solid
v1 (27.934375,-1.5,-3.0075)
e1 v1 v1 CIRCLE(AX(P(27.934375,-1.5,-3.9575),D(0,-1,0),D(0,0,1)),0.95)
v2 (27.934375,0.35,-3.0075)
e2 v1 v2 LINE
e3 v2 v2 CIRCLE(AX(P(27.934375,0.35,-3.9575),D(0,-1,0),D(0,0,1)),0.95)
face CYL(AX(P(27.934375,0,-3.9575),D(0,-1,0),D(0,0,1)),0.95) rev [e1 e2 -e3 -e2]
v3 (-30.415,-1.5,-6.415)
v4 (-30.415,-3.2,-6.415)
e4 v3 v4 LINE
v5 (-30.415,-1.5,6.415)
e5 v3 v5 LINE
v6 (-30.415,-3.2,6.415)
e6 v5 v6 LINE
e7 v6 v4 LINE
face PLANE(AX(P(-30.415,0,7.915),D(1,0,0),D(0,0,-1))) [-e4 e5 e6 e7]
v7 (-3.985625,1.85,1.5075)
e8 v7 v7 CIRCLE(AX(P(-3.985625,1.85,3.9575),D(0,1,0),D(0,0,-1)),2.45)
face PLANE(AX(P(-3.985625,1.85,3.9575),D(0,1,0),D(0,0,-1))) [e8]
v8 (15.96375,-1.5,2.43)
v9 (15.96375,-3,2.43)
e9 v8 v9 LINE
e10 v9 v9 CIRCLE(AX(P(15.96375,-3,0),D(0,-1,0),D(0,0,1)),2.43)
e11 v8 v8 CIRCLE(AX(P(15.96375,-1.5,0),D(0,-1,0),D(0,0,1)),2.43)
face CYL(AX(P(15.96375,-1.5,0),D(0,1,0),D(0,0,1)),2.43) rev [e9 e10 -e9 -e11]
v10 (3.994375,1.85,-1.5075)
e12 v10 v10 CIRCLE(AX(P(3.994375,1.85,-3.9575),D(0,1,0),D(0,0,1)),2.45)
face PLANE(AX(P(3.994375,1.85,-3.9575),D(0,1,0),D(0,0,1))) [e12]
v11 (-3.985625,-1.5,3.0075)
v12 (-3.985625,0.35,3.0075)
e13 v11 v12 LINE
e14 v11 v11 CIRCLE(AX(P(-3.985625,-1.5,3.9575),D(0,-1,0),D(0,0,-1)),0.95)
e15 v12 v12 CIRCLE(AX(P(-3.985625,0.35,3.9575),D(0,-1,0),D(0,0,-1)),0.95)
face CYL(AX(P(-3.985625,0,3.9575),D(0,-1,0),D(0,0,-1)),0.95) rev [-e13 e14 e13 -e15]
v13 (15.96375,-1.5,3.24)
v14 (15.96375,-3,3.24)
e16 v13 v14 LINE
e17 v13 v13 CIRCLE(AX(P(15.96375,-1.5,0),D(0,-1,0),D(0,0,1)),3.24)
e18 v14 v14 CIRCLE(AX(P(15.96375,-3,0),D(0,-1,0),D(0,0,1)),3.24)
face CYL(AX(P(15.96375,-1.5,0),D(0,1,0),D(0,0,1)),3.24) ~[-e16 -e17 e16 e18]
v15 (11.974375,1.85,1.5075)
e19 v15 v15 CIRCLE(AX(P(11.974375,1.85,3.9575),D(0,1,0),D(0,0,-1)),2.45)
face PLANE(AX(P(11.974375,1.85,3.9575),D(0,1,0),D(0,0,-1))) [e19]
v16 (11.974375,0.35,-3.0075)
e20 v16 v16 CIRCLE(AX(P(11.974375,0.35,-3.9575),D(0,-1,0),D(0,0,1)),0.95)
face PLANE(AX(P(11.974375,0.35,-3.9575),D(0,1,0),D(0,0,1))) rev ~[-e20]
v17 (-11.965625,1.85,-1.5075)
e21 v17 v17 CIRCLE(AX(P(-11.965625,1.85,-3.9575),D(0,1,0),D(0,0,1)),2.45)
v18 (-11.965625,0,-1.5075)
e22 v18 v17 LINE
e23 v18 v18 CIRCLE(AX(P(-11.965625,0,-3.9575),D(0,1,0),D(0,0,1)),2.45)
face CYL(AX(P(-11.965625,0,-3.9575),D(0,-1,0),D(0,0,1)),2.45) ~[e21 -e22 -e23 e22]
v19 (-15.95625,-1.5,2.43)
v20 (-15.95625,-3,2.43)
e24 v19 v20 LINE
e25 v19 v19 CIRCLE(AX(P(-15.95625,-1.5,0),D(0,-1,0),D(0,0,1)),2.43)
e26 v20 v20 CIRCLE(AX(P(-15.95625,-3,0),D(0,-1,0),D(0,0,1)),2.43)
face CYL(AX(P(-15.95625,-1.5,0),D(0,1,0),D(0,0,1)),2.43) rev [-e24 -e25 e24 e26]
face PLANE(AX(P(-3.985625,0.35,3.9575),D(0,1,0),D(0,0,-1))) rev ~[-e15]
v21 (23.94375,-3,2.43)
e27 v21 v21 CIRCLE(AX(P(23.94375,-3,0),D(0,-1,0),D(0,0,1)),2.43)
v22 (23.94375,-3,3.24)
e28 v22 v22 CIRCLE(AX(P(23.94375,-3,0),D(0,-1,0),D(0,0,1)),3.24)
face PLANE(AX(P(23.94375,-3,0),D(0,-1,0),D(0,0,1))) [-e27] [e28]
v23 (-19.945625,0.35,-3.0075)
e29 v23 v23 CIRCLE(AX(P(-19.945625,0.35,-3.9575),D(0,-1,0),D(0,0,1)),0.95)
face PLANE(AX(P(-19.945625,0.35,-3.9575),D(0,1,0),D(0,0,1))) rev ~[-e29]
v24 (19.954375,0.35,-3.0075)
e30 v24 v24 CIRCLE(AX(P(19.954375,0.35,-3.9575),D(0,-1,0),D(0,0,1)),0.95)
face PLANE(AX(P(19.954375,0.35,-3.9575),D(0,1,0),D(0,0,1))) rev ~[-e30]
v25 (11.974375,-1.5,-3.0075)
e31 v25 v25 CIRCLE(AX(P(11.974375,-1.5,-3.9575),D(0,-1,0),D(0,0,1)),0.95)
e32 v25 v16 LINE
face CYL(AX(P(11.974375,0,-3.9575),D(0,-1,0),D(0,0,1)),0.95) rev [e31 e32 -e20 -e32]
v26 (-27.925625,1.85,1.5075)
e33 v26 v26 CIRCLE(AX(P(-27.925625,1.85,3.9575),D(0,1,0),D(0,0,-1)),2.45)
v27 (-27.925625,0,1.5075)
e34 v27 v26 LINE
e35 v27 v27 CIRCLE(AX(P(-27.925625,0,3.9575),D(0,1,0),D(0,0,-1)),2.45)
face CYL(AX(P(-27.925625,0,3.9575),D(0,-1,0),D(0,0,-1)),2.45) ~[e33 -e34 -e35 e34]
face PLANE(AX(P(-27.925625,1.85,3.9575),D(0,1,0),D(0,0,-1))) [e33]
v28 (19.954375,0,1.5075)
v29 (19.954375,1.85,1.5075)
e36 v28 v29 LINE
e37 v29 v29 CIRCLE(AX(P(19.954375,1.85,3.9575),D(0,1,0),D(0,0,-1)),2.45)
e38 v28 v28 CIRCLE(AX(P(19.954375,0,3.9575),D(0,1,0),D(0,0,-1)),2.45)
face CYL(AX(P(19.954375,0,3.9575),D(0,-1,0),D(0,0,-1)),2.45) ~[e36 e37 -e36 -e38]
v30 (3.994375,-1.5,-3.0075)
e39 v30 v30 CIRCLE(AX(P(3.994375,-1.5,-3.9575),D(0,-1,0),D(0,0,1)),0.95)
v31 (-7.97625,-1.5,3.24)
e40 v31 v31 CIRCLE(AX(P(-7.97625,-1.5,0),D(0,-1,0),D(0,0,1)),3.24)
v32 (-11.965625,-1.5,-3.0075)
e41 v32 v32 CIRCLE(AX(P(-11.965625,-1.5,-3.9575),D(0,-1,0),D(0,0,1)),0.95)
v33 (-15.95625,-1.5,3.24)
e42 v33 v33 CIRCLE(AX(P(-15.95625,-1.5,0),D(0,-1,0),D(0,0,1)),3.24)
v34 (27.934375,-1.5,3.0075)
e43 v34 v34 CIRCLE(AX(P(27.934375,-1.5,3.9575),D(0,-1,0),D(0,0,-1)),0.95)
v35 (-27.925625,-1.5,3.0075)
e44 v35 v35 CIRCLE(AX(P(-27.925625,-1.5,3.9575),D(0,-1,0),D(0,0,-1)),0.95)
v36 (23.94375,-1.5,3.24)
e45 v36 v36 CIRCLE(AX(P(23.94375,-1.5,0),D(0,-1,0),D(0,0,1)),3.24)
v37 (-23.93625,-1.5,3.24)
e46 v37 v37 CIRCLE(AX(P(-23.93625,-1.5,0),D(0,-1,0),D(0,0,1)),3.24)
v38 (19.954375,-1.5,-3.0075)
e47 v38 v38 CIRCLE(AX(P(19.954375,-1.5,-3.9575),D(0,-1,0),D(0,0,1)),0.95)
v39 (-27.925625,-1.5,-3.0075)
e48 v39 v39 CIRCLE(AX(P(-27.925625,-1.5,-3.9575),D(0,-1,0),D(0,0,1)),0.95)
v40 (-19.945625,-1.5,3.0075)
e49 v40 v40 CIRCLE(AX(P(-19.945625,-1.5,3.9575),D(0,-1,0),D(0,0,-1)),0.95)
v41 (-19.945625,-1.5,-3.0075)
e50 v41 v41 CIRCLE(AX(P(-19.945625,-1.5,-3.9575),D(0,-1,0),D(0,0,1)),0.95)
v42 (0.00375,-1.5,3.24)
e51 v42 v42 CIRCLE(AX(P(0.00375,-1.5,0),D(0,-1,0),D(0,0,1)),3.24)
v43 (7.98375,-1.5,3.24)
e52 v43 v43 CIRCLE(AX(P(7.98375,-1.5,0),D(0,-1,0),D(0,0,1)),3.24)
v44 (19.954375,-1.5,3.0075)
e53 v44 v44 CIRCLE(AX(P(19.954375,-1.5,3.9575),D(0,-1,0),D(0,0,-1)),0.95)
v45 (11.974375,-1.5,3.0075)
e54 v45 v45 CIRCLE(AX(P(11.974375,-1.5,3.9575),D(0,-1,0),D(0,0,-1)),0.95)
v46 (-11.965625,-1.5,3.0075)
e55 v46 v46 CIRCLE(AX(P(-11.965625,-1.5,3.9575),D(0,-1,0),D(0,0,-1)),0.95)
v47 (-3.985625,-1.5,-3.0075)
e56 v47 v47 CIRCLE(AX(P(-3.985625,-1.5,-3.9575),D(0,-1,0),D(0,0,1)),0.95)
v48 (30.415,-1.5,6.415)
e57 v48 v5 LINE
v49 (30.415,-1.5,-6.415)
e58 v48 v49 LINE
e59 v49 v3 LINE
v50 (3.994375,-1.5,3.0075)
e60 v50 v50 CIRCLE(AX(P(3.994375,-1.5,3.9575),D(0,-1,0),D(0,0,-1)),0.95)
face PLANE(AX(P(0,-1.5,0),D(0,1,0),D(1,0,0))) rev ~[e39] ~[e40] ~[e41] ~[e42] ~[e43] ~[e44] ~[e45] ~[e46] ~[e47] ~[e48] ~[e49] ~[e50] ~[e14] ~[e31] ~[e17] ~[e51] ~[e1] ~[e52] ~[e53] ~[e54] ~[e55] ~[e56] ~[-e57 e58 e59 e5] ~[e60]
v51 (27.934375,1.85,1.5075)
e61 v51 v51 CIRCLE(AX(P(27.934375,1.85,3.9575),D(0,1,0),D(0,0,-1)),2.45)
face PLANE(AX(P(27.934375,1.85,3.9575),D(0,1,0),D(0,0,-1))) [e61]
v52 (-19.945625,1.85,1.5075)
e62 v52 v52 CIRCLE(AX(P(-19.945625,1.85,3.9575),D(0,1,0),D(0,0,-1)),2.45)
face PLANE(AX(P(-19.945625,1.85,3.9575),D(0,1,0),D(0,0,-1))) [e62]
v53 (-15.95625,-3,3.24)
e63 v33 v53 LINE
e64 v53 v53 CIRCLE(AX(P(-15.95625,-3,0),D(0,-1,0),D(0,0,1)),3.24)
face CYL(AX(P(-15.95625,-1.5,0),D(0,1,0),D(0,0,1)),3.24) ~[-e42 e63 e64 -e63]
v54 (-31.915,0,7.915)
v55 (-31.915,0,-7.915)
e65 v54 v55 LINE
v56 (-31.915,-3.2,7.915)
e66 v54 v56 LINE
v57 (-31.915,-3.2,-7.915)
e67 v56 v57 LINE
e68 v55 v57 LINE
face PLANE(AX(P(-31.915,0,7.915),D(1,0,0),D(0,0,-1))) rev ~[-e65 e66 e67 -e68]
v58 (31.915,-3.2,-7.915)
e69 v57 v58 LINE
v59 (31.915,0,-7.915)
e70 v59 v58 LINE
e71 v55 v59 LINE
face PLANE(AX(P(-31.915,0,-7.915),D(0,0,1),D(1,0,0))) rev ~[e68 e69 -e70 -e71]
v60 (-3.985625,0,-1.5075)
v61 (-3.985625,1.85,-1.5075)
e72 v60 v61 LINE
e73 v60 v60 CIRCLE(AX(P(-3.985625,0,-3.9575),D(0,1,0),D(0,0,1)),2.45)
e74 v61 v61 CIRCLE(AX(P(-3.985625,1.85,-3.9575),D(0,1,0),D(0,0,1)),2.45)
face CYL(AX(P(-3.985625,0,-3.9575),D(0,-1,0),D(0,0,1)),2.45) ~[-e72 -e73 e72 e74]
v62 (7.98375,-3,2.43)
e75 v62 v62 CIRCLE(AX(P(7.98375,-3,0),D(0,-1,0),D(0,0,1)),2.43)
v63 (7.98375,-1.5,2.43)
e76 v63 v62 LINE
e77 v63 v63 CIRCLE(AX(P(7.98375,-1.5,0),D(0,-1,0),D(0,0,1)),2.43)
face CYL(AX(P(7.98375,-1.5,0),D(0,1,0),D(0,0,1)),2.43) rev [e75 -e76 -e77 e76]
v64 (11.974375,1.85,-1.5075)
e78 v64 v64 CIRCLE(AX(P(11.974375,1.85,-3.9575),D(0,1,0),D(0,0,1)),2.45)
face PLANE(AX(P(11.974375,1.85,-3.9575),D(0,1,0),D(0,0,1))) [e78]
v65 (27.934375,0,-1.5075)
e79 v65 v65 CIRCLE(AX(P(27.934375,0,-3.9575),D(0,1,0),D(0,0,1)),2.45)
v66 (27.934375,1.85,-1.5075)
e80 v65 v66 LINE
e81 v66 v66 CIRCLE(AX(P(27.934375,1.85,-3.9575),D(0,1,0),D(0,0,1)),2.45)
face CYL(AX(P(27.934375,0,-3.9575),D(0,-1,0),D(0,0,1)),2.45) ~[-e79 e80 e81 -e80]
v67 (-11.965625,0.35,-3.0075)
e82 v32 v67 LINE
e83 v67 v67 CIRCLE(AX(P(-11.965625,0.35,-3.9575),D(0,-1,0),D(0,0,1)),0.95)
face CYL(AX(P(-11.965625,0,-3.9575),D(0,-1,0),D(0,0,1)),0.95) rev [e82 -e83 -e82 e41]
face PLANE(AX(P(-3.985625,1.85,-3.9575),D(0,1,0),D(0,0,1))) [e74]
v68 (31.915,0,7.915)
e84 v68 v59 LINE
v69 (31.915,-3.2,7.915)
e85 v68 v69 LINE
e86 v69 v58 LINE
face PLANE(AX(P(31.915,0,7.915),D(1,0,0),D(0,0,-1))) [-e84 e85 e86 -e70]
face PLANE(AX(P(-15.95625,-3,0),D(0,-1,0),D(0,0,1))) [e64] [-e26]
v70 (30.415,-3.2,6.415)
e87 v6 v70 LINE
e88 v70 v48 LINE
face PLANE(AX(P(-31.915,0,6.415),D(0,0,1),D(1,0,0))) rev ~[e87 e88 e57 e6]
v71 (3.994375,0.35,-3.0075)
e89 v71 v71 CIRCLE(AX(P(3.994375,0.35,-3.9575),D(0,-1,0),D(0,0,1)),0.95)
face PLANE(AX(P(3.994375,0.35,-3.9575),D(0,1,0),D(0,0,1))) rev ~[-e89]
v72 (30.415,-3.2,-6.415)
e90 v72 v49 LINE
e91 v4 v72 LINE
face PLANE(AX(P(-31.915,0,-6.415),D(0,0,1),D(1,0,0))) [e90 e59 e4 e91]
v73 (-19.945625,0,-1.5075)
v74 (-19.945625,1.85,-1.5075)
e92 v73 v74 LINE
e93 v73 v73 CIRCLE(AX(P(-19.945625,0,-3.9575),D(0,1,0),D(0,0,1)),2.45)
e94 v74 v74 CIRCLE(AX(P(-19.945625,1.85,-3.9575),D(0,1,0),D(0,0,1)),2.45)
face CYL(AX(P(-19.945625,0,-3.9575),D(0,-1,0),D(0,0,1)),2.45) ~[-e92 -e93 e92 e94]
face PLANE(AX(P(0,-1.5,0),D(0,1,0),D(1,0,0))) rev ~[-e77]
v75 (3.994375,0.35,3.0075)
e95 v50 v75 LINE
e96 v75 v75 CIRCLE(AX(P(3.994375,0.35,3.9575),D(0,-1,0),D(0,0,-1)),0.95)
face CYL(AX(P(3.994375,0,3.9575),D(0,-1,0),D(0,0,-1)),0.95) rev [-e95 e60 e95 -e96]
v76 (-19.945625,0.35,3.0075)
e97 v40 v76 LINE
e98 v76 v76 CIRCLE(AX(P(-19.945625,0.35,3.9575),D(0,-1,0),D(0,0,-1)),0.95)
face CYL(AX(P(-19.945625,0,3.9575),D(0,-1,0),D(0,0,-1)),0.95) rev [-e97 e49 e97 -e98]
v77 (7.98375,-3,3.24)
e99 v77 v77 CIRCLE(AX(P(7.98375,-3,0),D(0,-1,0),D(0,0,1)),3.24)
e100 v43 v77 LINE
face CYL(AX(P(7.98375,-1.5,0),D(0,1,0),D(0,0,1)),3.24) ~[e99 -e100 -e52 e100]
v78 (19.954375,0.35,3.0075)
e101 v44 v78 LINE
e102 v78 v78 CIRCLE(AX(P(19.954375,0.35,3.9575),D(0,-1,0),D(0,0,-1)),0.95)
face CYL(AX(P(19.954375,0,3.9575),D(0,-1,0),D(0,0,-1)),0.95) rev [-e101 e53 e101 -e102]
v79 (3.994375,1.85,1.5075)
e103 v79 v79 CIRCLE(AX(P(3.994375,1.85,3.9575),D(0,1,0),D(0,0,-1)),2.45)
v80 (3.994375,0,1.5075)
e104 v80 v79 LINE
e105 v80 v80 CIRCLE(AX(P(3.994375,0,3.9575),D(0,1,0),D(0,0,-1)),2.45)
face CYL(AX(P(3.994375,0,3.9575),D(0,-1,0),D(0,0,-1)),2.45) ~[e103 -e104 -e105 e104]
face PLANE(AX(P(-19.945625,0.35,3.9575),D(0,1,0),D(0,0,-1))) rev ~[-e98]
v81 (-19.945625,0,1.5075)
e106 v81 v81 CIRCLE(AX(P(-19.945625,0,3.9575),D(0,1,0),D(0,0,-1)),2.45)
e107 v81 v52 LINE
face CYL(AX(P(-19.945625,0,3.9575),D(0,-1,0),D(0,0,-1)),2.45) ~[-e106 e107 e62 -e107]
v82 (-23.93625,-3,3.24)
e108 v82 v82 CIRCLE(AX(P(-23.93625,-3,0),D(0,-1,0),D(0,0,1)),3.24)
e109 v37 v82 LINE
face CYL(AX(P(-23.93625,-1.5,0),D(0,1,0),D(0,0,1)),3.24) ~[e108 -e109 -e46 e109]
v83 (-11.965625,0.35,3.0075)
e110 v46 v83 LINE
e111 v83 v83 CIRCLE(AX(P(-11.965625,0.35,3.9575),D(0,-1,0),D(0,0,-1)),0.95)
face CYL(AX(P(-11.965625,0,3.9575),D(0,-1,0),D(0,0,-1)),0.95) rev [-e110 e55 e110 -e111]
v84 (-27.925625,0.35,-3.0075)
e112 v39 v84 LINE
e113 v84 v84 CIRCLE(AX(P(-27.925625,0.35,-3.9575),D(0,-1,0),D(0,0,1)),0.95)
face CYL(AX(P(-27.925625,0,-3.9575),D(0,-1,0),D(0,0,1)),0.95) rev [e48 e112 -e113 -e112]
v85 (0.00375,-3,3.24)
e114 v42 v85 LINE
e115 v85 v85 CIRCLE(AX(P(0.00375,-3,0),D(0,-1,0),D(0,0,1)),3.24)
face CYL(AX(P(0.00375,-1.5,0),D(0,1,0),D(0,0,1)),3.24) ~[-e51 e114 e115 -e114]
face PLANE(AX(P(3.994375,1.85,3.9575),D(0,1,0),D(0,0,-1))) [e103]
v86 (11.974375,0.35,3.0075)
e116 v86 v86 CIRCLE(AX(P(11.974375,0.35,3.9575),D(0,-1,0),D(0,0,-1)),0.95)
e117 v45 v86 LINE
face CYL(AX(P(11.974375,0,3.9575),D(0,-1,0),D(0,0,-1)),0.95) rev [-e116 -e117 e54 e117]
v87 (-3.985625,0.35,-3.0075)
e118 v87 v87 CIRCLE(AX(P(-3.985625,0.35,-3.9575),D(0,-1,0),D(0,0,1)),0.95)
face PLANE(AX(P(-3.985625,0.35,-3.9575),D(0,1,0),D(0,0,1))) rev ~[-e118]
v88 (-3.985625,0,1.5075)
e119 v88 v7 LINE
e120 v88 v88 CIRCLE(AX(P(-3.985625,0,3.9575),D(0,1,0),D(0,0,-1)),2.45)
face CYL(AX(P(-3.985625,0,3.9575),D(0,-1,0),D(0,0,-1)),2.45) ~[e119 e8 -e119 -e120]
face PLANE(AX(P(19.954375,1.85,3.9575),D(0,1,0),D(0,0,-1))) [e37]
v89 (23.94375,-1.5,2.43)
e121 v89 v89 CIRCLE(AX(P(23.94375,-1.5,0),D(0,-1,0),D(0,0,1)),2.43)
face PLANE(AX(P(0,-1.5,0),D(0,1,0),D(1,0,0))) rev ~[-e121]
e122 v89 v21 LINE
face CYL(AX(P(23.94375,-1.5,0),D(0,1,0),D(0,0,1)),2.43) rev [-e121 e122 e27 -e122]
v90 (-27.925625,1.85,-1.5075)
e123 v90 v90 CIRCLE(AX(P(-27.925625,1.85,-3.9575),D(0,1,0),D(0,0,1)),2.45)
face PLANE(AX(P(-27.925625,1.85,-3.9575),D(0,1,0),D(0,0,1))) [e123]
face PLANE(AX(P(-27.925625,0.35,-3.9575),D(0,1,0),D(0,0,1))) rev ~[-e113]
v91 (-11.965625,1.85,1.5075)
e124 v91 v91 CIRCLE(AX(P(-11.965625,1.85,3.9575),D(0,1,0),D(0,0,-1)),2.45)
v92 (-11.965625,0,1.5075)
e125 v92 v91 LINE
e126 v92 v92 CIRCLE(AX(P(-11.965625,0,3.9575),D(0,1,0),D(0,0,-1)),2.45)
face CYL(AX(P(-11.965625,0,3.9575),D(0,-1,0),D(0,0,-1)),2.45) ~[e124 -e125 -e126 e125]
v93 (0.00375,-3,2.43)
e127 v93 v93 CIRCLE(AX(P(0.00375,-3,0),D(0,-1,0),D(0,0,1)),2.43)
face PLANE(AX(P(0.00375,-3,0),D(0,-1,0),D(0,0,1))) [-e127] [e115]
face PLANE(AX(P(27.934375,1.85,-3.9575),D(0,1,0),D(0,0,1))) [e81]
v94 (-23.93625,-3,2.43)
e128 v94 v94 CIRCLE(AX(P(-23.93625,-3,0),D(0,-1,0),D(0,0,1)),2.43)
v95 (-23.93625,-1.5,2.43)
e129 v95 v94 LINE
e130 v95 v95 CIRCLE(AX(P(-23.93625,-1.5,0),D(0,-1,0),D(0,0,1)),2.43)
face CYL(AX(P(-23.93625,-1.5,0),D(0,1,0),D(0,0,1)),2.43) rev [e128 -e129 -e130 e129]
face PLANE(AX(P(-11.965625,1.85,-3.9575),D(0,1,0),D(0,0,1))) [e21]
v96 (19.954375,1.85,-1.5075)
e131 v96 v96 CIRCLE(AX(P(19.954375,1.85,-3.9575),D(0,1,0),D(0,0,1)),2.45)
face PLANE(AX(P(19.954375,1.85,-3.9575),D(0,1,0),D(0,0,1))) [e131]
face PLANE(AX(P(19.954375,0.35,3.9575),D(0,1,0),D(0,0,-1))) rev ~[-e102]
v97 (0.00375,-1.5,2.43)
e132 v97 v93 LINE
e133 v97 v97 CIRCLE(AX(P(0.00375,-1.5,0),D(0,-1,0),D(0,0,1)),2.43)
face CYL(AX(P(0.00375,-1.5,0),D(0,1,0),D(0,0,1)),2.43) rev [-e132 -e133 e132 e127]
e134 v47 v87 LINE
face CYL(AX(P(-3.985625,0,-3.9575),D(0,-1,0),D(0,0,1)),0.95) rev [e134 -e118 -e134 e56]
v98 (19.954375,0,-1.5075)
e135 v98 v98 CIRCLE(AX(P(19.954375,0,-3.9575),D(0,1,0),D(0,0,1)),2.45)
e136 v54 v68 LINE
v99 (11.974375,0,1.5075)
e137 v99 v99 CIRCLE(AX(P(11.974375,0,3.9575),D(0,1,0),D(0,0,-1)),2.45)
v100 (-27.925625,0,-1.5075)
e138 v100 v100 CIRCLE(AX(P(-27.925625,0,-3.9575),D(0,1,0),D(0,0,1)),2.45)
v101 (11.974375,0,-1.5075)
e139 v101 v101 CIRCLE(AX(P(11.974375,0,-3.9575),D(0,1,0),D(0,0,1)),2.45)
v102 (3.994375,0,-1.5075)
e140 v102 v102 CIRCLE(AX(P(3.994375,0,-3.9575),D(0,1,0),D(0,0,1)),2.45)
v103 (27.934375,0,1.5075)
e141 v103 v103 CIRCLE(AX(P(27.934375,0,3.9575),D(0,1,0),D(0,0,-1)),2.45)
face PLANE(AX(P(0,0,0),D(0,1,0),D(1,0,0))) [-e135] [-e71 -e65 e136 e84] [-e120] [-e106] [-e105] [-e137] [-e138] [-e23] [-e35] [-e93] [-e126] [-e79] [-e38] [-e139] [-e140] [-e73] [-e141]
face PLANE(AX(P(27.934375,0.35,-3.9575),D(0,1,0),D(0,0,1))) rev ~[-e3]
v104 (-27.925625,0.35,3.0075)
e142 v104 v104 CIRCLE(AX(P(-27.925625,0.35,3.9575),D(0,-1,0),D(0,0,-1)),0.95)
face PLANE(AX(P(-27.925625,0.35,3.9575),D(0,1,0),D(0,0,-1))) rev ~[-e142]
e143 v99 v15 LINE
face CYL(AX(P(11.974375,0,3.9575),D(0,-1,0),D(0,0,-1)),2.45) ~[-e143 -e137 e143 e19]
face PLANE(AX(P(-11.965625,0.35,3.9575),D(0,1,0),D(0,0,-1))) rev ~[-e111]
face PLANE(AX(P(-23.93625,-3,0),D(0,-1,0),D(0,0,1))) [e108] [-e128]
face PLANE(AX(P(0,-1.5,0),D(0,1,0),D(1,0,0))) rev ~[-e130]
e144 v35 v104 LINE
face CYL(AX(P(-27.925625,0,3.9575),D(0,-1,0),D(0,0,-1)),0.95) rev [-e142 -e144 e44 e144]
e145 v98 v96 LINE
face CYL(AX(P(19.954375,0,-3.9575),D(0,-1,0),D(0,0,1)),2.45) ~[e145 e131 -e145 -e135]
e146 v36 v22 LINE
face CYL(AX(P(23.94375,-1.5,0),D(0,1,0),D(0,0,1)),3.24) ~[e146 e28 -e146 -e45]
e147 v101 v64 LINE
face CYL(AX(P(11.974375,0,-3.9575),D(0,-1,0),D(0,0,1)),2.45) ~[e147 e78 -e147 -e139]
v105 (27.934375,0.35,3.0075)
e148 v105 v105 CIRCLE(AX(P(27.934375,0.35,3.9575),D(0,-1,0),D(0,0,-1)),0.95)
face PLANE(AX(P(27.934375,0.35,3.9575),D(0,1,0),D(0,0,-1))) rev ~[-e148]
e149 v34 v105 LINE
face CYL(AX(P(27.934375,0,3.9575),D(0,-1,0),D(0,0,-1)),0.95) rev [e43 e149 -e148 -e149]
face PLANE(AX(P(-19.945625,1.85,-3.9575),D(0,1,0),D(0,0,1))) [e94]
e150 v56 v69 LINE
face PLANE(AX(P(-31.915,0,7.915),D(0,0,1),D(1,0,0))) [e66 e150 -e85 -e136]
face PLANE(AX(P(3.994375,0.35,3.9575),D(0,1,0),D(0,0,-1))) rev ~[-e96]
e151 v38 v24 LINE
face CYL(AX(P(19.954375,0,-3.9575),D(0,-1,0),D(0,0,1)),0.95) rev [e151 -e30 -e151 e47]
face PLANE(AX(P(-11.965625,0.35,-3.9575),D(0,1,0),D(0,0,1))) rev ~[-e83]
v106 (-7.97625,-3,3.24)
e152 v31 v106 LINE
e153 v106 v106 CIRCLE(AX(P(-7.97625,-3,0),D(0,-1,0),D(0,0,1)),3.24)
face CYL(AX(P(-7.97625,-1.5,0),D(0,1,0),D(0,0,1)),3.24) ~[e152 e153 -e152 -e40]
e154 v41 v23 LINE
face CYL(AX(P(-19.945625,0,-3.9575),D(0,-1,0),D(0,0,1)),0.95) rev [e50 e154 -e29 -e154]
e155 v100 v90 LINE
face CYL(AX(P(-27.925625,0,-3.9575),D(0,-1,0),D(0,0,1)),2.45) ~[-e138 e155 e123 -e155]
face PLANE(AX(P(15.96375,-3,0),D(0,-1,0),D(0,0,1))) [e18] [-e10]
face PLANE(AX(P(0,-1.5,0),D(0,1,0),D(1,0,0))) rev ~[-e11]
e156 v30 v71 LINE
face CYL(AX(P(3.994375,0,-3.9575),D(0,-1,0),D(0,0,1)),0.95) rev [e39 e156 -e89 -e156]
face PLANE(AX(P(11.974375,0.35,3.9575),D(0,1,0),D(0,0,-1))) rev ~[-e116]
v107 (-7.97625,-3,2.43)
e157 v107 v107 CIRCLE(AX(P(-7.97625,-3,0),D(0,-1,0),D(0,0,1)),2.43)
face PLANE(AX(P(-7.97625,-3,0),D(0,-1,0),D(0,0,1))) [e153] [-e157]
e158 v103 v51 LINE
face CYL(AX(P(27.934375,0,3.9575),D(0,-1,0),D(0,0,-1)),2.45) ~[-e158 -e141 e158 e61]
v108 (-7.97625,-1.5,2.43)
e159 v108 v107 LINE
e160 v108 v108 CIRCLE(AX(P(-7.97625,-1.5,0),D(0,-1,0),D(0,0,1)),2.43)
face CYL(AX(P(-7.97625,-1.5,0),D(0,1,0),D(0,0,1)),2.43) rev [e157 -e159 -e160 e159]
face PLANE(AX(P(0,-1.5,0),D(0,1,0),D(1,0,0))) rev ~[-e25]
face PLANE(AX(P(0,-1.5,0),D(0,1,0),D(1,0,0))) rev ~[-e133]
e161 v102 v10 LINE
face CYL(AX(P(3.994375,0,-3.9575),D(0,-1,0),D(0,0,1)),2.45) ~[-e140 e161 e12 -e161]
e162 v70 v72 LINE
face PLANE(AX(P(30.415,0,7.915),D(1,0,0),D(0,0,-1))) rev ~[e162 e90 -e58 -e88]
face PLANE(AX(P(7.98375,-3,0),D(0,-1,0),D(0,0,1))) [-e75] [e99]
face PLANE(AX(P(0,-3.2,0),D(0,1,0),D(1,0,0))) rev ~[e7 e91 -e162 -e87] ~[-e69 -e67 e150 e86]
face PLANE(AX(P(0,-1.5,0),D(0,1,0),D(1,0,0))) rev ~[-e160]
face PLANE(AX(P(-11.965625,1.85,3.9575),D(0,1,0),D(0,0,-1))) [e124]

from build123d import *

# Parameters (mm, degrees)
SKETCH1_W           = 63.83
SKETCH1_H           = 15.83
BOSS_EXTRUDE1_DEPTH = 3.2
SKETCH2_R           = 2.45
BOSS_EXTRUDE2_DEPTH = 1.85
SHELL1_T            = -1.5
SKETCH3_R           = 3.24
SKETCH3_R_2         = 2.43
BOSS_EXTRUDE3_DEPTH = 1.5


with BuildPart() as part:
    # Sketch1 → Boss-Extrude1 (new body)
    with BuildSketch(Plane(origin=(0, 0, 0), x_dir=(1, 0, 0), z_dir=(0, 1, 0))):
        Rectangle(SKETCH1_W, SKETCH1_H)
    extrude(amount=-BOSS_EXTRUDE1_DEPTH)

    # Sketch2 → Boss-Extrude2 (add)
    with BuildSketch(Plane(origin=(0, 0, 0), x_dir=(1, 0, 0), z_dir=(0, 1, 0))):
        with Locations(Location((-27.925625, 3.9575, 0), (0, 0, 270))):
            Circle(SKETCH2_R)
        with Locations(Location((-19.945625, 3.9575, 0), (0, 0, 270))):
            Circle(SKETCH2_R)
        with Locations(Location((-11.965625, 3.9575, 0), (0, 0, 270))):
            Circle(SKETCH2_R)
        with Locations(Location((-3.985625, 3.9575, 0), (0, 0, 270))):
            Circle(SKETCH2_R)
        with Locations(Location((3.994375, 3.9575, 0), (0, 0, 270))):
            Circle(SKETCH2_R)
        with Locations(Location((11.974375, 3.9575, 0), (0, 0, 270))):
            Circle(SKETCH2_R)
        with Locations(Location((19.954375, 3.9575, 0), (0, 0, 270))):
            Circle(SKETCH2_R)
        with Locations(Location((27.934375, 3.9575, 0), (0, 0, 270))):
            Circle(SKETCH2_R)
        with Locations(Location((27.934375, -3.9575, 0), (0, 0, 90))):
            Circle(SKETCH2_R)
        with Locations(Location((19.954375, -3.9575, 0), (0, 0, 90))):
            Circle(SKETCH2_R)
        with Locations(Location((11.974375, -3.9575, 0), (0, 0, 90))):
            Circle(SKETCH2_R)
        with Locations(Location((3.994375, -3.9575, 0), (0, 0, 90))):
            Circle(SKETCH2_R)
        with Locations(Location((-3.985625, -3.9575, 0), (0, 0, 90))):
            Circle(SKETCH2_R)
        with Locations(Location((-11.965625, -3.9575, 0), (0, 0, 90))):
            Circle(SKETCH2_R)
        with Locations(Location((-19.945625, -3.9575, 0), (0, 0, 90))):
            Circle(SKETCH2_R)
        with Locations(Location((-27.925625, -3.9575, 0), (0, 0, 90))):
            Circle(SKETCH2_R)
    extrude(amount=BOSS_EXTRUDE2_DEPTH)

    # Shell1
    shell1_openings = [part.faces().sort_by_distance(p)[0] for p in [
        (0, -3.2, 0),
    ]]
    offset(amount=SHELL1_T, openings=shell1_openings, kind=Kind.INTERSECTION)

    # Sketch3 → Boss-Extrude3 (add)
    # profile 1 of 7: a face of its own
    with BuildSketch(Plane.XZ.offset(1.5)):
        with Locations(Location((-23.93625, 0, 0), (0, 0, 90))):
            Circle(SKETCH3_R)
        with Locations(Location((-23.93625, 0, 0), (0, 0, 90))):
            Circle(SKETCH3_R_2, mode=Mode.SUBTRACT)
    # profile 2 of 7: a face of its own
    with BuildSketch(Plane.XZ.offset(1.5)):
        with Locations(Location((-15.95625, 0, 0), (0, 0, 90))):
            Circle(SKETCH3_R)
        with Locations(Location((-15.95625, 0, 0), (0, 0, 90))):
            Circle(SKETCH3_R_2, mode=Mode.SUBTRACT)
    # profile 3 of 7: a face of its own
    with BuildSketch(Plane.XZ.offset(1.5)):
        with Locations(Location((-7.97625, 0, 0), (0, 0, 90))):
            Circle(SKETCH3_R)
        with Locations(Location((-7.97625, 0, 0), (0, 0, 90))):
            Circle(SKETCH3_R_2, mode=Mode.SUBTRACT)
    # profile 4 of 7: a face of its own
    with BuildSketch(Plane.XZ.offset(1.5)):
        with Locations(Location((0.00375, 0, 0), (0, 0, 90))):
            Circle(SKETCH3_R)
        with Locations(Location((0.00375, 0, 0), (0, 0, 90))):
            Circle(SKETCH3_R_2, mode=Mode.SUBTRACT)
    # profile 5 of 7: a face of its own
    with BuildSketch(Plane.XZ.offset(1.5)):
        with Locations(Location((7.98375, 0, 0), (0, 0, 90))):
            Circle(SKETCH3_R)
        with Locations(Location((7.98375, 0, 0), (0, 0, 90))):
            Circle(SKETCH3_R_2, mode=Mode.SUBTRACT)
    # profile 6 of 7: a face of its own
    with BuildSketch(Plane.XZ.offset(1.5)):
        with Locations(Location((15.96375, 0, 0), (0, 0, 90))):
            Circle(SKETCH3_R)
        with Locations(Location((15.96375, 0, 0), (0, 0, 90))):
            Circle(SKETCH3_R_2, mode=Mode.SUBTRACT)
    # profile 7 of 7: a face of its own
    with BuildSketch(Plane.XZ.offset(1.5)):
        with Locations(Location((23.94375, 0, 0), (0, 0, 90))):
            Circle(SKETCH3_R)
        with Locations(Location((23.94375, 0, 0), (0, 0, 90))):
            Circle(SKETCH3_R_2, mode=Mode.SUBTRACT)
    extrude(amount=BOSS_EXTRUDE3_DEPTH)


solid = part.part
